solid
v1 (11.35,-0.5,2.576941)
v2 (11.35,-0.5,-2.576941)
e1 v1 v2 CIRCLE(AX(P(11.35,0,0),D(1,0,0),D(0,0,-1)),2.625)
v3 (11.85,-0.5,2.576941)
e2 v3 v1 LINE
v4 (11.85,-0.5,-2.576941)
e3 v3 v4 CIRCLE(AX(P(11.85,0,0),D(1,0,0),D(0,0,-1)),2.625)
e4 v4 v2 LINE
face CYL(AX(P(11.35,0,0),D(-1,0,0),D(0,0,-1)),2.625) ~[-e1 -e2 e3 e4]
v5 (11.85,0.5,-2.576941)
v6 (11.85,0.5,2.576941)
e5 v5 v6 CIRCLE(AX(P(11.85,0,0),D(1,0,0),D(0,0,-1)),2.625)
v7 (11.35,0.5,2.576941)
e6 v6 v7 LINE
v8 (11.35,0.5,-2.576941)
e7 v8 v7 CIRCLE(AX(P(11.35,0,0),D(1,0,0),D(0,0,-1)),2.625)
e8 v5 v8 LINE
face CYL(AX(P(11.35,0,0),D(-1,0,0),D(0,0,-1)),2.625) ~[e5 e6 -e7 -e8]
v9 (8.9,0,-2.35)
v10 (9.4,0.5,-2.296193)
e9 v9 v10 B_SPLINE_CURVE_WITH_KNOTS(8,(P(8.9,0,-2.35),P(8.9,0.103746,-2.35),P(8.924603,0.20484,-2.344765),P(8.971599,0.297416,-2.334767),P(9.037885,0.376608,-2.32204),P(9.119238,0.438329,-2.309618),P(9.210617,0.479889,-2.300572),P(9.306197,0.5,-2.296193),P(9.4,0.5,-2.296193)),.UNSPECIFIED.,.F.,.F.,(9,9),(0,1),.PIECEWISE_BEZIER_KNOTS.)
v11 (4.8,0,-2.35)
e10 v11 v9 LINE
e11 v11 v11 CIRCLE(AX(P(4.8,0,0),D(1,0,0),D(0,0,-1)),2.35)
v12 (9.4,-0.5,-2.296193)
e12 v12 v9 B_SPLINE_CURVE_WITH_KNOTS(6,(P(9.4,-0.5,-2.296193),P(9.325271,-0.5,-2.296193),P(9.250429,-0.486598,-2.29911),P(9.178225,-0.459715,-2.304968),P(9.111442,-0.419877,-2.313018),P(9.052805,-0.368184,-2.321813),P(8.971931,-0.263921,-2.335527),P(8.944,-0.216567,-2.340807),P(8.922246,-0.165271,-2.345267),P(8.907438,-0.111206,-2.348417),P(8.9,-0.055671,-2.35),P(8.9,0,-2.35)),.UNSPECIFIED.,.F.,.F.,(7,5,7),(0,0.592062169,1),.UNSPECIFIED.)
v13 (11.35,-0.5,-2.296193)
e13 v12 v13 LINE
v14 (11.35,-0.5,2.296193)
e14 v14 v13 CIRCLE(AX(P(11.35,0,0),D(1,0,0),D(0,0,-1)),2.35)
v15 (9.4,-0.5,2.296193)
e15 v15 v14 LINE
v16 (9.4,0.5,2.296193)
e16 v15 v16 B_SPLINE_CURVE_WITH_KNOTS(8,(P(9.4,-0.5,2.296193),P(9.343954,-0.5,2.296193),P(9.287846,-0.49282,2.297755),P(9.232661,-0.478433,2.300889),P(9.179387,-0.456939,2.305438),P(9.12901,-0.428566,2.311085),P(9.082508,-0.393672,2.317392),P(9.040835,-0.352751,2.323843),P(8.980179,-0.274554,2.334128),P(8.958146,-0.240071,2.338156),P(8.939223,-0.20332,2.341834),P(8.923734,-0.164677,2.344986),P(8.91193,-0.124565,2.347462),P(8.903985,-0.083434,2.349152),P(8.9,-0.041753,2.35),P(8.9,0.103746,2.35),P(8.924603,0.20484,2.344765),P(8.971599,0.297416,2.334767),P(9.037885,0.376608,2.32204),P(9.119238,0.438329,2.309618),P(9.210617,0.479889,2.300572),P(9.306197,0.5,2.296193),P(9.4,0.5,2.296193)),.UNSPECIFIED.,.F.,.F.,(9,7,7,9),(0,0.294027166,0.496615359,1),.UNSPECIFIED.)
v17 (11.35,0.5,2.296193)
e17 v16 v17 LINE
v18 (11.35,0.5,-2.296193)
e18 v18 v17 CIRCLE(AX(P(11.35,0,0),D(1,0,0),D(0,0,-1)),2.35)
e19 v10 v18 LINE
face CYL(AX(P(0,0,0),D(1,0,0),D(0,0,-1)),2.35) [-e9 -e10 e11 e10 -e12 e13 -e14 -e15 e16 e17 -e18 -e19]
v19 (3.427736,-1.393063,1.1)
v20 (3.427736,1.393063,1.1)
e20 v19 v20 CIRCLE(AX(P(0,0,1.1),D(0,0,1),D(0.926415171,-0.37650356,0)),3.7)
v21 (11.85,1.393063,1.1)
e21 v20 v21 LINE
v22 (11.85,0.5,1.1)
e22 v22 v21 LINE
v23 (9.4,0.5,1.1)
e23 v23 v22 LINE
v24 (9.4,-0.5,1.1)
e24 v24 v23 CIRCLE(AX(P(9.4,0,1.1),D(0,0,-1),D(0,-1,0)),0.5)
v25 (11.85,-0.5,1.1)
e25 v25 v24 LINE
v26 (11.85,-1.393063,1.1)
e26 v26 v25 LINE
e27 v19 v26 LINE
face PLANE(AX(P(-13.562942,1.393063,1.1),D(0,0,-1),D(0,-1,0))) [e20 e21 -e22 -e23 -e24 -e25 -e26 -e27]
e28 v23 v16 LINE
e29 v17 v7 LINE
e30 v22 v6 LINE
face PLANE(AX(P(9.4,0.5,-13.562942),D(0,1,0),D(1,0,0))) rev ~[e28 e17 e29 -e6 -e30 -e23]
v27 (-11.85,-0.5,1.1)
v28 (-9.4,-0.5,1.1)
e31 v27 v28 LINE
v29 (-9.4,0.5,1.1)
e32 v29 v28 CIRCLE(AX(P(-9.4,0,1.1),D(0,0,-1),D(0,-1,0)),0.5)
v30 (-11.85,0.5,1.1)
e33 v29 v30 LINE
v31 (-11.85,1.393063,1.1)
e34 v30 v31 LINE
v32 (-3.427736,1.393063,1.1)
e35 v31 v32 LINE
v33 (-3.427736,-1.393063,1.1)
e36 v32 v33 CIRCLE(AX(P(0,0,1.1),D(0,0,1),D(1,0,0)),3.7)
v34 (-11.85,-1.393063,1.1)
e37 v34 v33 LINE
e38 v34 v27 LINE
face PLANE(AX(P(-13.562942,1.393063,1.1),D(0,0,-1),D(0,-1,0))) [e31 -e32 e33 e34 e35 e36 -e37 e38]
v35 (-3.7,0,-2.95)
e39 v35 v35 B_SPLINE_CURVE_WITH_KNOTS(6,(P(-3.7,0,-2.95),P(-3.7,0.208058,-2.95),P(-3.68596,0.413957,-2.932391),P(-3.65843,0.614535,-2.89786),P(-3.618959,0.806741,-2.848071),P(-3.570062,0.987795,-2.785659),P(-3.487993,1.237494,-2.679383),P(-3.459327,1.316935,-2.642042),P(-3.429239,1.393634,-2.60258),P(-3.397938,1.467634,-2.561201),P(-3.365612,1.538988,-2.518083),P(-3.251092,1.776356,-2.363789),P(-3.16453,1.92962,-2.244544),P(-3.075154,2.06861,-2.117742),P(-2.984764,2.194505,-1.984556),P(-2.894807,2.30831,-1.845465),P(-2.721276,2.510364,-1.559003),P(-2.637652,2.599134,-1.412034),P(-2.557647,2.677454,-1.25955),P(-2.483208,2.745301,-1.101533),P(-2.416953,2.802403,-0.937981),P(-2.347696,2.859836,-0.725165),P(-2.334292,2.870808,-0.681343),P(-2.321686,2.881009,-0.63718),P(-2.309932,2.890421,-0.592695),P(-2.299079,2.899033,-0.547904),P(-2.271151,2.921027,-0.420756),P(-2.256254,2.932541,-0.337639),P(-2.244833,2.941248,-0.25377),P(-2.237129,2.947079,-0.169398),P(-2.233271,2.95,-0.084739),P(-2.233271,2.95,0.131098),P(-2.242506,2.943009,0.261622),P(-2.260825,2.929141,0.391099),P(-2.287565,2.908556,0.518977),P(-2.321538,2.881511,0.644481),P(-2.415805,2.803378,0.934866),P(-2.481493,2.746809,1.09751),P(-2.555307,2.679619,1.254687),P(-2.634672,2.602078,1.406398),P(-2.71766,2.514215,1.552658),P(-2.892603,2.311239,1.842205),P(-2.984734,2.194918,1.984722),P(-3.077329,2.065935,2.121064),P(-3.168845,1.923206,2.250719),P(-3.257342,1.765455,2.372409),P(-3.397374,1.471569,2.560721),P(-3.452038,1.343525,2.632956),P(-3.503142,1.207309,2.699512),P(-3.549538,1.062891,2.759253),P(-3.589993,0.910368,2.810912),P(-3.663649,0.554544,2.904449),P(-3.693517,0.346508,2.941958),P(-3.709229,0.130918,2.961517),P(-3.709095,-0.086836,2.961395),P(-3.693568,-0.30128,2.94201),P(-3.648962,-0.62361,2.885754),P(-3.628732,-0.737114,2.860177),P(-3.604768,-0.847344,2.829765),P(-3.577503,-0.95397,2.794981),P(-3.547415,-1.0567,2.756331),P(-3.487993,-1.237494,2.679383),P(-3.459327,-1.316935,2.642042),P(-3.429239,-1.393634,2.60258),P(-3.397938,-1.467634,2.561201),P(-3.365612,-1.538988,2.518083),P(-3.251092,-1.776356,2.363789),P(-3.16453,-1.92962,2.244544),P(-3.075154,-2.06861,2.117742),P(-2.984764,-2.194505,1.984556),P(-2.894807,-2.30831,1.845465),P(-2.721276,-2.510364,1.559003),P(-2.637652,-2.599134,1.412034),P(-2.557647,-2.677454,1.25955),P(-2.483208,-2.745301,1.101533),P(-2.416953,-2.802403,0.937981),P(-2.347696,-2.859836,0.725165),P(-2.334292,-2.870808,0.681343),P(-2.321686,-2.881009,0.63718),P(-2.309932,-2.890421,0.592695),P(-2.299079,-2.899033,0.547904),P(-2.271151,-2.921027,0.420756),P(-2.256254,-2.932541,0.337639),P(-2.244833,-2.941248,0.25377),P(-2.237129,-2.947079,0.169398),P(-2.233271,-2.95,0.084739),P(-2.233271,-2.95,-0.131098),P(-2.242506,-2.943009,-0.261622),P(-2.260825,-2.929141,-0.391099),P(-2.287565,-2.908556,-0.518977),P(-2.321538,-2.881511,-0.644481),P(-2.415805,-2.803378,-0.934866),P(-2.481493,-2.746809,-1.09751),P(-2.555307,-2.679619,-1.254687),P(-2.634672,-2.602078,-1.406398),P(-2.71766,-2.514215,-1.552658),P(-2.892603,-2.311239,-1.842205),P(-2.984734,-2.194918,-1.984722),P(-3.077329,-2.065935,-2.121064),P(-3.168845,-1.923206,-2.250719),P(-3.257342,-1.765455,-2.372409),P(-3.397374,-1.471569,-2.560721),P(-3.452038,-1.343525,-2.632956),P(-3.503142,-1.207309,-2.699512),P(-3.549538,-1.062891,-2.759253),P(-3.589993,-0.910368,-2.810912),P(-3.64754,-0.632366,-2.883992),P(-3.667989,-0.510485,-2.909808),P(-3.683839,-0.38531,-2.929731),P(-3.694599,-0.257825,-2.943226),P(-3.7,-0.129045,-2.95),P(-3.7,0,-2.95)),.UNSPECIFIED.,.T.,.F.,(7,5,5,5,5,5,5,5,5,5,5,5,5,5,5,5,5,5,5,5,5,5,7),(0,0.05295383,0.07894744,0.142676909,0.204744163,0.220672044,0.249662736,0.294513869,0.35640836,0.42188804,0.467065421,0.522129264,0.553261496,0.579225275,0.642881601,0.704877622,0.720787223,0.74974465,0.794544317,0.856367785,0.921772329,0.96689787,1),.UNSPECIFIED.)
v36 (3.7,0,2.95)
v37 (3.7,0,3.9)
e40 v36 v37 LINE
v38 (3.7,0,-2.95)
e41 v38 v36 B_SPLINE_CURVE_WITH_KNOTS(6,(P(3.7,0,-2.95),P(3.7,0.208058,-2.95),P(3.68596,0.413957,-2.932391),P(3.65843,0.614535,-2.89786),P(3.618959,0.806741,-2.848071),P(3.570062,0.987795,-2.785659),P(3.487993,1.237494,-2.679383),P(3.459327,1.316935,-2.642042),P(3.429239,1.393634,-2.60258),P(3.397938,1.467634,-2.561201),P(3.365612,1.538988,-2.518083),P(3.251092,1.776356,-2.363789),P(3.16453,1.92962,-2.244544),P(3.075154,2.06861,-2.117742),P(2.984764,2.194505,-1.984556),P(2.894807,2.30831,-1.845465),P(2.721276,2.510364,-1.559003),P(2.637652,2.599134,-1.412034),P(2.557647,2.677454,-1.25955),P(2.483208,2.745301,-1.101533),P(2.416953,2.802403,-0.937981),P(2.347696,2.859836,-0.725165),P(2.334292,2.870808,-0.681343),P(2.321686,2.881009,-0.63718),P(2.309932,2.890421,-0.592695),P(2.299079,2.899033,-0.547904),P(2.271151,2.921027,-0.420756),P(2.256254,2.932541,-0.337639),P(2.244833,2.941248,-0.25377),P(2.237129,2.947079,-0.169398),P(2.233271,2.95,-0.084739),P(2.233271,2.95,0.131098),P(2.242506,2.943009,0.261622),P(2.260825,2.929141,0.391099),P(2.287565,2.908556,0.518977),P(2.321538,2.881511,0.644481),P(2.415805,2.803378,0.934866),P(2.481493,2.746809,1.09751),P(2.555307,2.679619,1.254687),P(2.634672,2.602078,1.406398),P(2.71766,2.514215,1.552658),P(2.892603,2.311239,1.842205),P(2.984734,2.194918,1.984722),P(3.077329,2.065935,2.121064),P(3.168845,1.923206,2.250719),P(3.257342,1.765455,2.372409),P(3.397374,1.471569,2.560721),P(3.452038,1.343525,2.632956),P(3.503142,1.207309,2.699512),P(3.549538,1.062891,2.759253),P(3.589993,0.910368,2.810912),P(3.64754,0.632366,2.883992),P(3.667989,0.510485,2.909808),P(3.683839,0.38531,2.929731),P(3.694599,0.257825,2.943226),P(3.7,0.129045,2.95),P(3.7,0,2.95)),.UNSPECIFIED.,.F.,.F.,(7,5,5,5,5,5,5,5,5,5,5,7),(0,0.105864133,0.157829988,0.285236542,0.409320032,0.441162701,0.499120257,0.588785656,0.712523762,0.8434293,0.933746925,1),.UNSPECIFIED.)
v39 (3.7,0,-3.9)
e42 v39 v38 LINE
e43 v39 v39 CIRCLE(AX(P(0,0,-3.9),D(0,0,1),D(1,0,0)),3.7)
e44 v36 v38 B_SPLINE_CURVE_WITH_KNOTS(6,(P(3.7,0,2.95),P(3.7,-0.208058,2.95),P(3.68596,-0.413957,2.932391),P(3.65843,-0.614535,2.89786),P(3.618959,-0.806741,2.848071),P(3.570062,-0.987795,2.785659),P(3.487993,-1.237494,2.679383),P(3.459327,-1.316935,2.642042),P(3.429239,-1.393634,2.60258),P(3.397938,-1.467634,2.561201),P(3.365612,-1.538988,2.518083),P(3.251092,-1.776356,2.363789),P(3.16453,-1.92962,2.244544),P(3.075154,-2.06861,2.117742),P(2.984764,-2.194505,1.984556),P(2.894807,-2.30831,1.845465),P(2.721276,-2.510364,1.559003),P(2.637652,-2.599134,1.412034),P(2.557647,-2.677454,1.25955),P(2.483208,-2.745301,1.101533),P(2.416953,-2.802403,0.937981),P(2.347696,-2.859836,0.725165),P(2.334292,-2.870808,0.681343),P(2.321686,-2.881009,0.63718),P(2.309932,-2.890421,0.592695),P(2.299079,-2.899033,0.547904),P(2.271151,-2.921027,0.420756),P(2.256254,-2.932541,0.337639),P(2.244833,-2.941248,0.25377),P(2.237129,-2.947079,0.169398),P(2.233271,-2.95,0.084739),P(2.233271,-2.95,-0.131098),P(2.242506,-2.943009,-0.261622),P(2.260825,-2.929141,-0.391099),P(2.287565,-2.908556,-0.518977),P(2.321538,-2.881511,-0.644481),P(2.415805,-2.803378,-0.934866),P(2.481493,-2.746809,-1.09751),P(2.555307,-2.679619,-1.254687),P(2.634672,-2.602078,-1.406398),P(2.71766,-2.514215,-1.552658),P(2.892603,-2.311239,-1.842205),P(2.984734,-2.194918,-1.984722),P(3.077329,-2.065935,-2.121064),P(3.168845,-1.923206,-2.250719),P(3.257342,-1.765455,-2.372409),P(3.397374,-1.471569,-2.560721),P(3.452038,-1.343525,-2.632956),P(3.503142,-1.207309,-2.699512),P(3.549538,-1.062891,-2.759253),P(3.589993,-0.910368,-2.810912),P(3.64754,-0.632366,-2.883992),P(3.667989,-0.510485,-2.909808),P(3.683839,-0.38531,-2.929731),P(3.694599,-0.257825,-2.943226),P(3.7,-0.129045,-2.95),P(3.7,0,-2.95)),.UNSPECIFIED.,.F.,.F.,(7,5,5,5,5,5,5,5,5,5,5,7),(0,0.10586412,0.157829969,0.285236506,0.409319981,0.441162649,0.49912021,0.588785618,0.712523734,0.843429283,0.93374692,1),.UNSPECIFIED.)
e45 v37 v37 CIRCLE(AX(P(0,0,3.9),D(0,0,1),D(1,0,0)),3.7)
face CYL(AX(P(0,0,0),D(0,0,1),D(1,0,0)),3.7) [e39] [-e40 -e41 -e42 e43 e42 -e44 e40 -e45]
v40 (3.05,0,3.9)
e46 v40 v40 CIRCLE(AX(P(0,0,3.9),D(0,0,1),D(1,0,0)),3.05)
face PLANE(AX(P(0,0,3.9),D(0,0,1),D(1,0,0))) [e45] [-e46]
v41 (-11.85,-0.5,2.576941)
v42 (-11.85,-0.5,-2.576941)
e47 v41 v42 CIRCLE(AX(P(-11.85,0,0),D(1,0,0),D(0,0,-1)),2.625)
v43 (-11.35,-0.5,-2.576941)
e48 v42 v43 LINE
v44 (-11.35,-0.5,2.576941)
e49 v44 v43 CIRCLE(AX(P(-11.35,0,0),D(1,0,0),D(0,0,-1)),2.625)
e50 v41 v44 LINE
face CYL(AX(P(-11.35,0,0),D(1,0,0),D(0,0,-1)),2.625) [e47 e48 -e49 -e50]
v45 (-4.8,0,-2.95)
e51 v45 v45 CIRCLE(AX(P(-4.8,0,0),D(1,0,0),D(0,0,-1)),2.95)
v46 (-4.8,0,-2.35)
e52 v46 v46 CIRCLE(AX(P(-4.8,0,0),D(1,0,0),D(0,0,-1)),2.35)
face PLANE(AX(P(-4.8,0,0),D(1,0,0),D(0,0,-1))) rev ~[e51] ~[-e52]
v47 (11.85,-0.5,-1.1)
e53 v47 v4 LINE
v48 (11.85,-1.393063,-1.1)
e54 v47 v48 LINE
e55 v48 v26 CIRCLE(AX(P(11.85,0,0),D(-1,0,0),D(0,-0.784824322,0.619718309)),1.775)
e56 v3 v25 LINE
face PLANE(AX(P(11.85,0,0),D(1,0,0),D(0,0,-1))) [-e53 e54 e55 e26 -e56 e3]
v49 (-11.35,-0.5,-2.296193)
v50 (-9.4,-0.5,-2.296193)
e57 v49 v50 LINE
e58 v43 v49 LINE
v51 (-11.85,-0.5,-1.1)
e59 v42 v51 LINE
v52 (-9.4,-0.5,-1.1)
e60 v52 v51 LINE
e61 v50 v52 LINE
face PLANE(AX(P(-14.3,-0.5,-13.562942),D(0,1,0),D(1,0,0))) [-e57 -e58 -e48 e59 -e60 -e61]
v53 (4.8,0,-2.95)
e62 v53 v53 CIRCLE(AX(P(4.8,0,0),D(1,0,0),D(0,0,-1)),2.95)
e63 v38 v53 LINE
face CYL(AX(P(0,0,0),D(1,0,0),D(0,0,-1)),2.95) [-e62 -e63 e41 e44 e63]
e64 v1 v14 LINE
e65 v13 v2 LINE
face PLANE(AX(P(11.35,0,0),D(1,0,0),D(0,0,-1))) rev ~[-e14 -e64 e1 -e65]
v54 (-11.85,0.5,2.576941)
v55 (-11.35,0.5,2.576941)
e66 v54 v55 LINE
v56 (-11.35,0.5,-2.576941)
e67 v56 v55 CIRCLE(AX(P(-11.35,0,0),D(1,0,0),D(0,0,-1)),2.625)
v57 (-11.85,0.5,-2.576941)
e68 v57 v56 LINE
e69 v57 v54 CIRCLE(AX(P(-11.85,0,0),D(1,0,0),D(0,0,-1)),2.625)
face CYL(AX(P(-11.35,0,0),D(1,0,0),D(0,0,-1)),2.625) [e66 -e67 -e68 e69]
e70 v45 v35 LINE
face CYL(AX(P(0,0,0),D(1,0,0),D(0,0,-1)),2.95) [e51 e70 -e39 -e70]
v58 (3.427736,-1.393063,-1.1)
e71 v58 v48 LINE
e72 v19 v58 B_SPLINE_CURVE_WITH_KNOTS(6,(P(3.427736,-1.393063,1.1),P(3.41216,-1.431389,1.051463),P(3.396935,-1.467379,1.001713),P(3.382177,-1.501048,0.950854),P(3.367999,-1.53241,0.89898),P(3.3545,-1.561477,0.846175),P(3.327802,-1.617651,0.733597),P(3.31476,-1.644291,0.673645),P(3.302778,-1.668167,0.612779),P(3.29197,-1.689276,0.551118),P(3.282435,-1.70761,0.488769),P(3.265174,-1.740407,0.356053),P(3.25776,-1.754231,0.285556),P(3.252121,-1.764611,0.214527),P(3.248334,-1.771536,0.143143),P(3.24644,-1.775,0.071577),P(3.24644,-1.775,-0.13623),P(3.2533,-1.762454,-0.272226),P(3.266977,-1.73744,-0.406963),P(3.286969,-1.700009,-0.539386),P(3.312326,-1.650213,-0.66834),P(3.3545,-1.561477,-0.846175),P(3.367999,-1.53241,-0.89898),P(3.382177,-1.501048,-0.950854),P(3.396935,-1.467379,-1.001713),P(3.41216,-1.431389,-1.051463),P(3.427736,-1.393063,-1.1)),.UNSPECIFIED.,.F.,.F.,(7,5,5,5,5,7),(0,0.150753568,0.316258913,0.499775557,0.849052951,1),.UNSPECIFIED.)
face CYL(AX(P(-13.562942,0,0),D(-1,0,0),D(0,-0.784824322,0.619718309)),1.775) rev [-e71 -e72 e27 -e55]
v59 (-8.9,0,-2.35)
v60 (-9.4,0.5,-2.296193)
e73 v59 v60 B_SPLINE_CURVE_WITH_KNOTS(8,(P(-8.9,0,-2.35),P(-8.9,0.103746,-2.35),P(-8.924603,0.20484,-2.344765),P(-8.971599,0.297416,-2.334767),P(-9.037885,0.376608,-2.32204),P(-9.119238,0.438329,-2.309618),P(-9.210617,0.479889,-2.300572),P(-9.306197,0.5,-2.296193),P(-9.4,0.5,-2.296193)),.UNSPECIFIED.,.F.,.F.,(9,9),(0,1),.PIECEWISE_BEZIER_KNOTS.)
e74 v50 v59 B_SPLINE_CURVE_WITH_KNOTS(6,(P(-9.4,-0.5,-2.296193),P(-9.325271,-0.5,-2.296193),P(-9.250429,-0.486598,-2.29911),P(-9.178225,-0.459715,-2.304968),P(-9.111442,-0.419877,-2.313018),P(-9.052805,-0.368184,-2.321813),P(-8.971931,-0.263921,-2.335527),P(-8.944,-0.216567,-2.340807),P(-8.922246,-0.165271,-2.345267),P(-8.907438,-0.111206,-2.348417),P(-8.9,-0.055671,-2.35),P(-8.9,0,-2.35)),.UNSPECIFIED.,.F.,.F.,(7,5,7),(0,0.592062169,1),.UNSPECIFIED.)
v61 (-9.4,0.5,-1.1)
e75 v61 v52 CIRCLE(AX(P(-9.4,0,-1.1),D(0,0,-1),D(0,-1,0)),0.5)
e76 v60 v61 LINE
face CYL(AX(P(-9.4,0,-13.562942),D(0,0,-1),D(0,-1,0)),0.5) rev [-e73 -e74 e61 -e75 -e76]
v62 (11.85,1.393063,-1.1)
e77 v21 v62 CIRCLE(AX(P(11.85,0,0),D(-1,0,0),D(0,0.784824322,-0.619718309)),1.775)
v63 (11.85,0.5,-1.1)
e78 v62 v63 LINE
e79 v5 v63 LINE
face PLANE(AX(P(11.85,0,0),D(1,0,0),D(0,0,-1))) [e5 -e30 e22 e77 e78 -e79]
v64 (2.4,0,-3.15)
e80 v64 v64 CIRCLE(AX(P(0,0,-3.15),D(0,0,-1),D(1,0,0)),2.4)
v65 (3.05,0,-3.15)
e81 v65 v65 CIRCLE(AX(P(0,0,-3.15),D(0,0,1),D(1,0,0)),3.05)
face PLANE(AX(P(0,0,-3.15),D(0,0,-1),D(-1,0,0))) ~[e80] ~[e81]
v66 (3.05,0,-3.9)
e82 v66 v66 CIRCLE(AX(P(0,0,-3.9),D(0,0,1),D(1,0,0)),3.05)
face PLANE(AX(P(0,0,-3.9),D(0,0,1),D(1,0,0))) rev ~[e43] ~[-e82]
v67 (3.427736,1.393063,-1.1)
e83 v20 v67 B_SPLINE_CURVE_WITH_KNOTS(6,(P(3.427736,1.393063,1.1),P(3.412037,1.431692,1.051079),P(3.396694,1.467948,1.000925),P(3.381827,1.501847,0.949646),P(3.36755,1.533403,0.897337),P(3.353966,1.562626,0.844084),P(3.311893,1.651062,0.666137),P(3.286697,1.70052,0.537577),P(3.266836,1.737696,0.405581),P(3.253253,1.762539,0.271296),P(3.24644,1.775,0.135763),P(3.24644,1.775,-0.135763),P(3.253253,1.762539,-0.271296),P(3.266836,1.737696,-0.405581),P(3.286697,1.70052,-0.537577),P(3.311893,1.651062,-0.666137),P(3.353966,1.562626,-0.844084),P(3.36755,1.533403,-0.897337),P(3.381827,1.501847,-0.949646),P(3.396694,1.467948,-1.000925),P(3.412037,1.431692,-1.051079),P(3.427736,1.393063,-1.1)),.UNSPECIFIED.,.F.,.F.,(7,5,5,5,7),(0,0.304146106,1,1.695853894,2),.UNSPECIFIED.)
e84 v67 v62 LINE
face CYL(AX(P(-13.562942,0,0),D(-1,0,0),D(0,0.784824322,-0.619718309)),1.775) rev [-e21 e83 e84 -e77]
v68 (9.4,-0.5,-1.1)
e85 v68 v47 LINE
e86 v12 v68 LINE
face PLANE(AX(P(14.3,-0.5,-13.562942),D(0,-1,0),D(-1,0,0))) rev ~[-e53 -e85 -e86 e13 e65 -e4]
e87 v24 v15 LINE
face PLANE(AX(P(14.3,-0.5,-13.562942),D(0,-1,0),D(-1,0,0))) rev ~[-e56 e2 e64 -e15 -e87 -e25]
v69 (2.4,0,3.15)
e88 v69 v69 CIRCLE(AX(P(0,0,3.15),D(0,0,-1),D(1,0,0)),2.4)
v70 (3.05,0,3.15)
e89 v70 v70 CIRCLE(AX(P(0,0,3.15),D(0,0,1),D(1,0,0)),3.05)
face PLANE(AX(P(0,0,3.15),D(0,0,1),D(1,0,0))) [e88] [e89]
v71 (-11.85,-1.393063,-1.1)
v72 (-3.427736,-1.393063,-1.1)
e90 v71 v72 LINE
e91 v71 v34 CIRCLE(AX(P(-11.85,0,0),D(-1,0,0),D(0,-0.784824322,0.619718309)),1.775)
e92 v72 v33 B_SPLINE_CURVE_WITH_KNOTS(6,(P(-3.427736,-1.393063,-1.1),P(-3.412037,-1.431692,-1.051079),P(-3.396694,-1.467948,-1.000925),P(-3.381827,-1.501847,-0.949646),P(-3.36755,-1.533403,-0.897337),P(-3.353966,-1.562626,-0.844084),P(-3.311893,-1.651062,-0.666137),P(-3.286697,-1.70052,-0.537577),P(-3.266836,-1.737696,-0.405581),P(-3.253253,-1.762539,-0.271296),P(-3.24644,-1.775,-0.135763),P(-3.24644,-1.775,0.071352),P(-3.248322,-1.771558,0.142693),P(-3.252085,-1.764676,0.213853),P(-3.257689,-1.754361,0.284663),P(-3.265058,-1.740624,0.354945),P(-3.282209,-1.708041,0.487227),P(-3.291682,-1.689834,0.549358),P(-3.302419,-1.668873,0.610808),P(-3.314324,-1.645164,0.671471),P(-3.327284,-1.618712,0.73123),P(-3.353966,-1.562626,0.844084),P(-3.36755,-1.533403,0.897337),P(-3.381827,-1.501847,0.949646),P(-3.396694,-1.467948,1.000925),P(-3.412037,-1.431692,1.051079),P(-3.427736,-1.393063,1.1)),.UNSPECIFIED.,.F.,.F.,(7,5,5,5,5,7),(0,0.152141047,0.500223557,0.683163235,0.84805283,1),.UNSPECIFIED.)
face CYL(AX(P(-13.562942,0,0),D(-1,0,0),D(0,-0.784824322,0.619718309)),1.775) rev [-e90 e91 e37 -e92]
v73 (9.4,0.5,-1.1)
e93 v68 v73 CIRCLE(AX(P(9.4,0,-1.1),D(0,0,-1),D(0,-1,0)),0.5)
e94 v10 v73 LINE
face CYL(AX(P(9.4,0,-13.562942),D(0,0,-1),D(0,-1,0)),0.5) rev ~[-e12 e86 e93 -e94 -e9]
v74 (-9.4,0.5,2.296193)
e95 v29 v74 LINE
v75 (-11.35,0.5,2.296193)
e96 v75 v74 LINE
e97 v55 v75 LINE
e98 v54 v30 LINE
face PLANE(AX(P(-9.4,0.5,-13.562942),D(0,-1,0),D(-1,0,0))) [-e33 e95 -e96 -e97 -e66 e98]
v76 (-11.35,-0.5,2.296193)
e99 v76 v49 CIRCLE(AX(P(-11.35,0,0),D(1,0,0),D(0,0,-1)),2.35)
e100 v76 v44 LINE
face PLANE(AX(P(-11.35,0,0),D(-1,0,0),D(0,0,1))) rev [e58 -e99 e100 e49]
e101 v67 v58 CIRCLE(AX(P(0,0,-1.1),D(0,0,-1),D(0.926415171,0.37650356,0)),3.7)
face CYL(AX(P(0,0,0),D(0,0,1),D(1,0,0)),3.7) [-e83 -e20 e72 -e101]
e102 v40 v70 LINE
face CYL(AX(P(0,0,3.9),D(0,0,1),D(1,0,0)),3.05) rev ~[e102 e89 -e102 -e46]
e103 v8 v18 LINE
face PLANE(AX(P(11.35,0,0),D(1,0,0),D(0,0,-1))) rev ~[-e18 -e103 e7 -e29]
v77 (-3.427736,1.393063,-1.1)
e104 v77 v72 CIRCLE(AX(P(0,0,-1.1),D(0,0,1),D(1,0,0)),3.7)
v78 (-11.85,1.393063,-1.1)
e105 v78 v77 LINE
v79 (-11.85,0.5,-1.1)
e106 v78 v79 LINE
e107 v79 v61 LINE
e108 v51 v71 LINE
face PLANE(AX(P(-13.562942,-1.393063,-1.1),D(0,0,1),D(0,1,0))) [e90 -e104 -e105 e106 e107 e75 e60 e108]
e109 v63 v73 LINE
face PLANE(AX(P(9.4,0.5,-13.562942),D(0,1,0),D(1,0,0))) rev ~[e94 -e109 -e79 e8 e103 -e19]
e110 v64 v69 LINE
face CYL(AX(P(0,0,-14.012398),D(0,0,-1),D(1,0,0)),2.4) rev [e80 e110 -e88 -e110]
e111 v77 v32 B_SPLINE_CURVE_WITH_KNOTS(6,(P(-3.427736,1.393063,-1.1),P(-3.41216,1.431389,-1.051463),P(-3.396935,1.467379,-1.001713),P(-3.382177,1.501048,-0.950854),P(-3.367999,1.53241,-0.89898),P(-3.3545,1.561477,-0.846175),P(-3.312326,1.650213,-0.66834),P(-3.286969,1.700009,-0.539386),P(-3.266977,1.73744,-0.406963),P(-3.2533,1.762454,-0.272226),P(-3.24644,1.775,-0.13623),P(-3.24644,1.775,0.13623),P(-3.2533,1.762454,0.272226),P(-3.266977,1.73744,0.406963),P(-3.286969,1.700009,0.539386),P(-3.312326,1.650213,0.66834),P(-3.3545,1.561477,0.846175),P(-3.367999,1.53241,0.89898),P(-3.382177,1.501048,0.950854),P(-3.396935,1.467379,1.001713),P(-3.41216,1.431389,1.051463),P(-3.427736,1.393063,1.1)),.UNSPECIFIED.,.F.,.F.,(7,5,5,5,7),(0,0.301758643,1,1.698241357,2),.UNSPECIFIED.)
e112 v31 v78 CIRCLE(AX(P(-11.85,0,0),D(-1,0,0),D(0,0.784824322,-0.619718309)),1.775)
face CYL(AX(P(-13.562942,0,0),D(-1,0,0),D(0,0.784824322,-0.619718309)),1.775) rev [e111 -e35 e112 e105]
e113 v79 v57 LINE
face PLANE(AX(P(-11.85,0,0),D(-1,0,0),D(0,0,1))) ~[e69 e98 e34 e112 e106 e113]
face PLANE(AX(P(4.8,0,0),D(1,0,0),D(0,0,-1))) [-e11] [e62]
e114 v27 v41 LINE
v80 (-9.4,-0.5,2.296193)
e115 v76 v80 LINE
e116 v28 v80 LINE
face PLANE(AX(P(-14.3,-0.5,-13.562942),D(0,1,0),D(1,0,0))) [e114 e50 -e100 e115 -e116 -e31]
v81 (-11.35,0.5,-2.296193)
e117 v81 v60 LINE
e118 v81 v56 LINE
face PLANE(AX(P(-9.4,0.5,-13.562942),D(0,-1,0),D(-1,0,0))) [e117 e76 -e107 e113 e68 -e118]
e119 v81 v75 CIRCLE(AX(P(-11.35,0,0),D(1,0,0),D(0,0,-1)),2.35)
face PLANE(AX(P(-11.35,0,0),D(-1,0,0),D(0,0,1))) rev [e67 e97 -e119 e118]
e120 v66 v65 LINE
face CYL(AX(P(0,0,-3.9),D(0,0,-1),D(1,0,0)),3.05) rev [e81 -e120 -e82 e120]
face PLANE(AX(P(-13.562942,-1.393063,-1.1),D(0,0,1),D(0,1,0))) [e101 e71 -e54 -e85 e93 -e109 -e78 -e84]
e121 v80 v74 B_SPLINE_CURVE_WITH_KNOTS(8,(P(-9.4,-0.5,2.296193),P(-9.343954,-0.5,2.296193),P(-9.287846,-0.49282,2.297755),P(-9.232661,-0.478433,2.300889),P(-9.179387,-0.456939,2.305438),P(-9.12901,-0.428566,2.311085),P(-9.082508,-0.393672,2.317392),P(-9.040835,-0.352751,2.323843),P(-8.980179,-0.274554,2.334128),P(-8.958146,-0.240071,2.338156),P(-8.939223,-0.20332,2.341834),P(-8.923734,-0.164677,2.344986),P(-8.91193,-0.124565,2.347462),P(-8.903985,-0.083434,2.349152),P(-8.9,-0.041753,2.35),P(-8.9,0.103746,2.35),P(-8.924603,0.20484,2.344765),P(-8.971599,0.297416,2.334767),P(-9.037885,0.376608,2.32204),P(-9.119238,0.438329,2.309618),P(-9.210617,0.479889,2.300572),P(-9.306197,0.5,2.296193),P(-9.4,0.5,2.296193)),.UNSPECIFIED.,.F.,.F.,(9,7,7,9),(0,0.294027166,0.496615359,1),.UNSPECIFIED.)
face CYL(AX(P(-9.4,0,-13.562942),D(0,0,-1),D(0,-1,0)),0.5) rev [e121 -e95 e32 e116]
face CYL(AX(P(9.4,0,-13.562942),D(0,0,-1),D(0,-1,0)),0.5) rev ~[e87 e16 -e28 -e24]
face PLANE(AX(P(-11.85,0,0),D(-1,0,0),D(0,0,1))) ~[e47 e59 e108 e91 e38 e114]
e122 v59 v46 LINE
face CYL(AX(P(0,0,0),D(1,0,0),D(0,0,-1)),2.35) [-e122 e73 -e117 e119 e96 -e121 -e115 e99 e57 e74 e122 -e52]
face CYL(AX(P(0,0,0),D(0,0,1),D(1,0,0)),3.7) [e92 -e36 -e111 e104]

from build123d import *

# Parameters (mm, degrees)
SKETCH1_R              = 2.35
PIN_DEPTH              = 11.35
SKETCH2_R              = 2.95
MIDDLE_DEPTH           = 4.8
SKETCH3_R              = 2.625
OUTER_RIM_DEPTH        = 0.5
BORE_CUT_DEPTH         = 13.562941535
BORE_CUT_DEPTH_BACK    = 13.562941535
SLOT_CUT_DEPTH         = 13.562941535
SLOT_CUT_DEPTH_BACK    = 13.562941535
SKETCH6_R              = 3.7
MIDDLE_BODY_DEPTH      = 3.9
MIDDLE_BORE_DEPTH      = 14.012398084
MIDDLE_BORE_DEPTH_BACK = 14.012398084
SKETCH7_R              = 2.4
SKETCH8_R              = 3.05
MIDDLE_RIM_CUT_DEPTH   = 0.75


with BuildPart() as part:
    # Sketch1 → Pin (new, symmetric)
    with BuildSketch(Plane(origin=(0, 0, 0), x_dir=(0, 0, -1), z_dir=(1, 0, 0))):
        Circle(SKETCH1_R)
    extrude(amount=PIN_DEPTH, both=True)

    # Sketch2 → Middle (add, symmetric)
    with BuildSketch(Plane(origin=(0, 0, 0), x_dir=(0, 0, -1), z_dir=(1, 0, 0))):
        Circle(SKETCH2_R)
    extrude(amount=MIDDLE_DEPTH, both=True)

    # Sketch3 → Outer Rim (add)
    with BuildSketch(Plane(origin=(11.35, 0, 0), x_dir=(0, 0, -1), z_dir=(1, 0, 0))):
        Circle(SKETCH3_R)
    outer_rim = extrude(amount=OUTER_RIM_DEPTH)

    # Mirror1: Outer Rim across plane
    add(outer_rim.mirror(Plane(origin=(0, 0, 0), x_dir=(0, 0, 1), z_dir=(1, 0, 0))))

    # Sketch4 → Bore Cut (cut, two sides: drawn at the far end of the back side and taken through both)
    with BuildSketch(Plane(origin=(0, 0, 0), x_dir=(0, 0, -1), z_dir=(1, 0, 0)).offset(-BORE_CUT_DEPTH_BACK)):
        with BuildLine():
            ThreePointArc((-1.1, -1.393063172), (0, -1.775), (1.1, -1.393063172))
            Line((1.1, -1.393063172), (1.1, 1.393063172))
            ThreePointArc((1.1, 1.393063172), (0, 1.775), (-1.1, 1.393063172))
            Line((-1.1, 1.393063172), (-1.1, -1.393063172))
        make_face()
    extrude(amount=BORE_CUT_DEPTH + BORE_CUT_DEPTH_BACK, mode=Mode.SUBTRACT)

    # Sketch5 → Slot Cut (cut, two sides: drawn at the far end of the back side and taken through both)
    with BuildSketch(Plane.XY.offset(-SLOT_CUT_DEPTH_BACK)):
        with BuildLine():
            Line((14.3, -0.5), (9.4, -0.5))
            ThreePointArc((9.4, -0.5), (8.9, 0), (9.4, 0.5))
            Line((9.4, 0.5), (14.3, 0.5))
            ThreePointArc((14.3, 0.5), (14.8, 0), (14.3, -0.5))
        make_face()
        with BuildLine():
            Line((-14.3, -0.5), (-9.4, -0.5))
            ThreePointArc((-9.4, -0.5), (-8.9, 0), (-9.4, 0.5))
            Line((-9.4, 0.5), (-14.3, 0.5))
            ThreePointArc((-14.3, 0.5), (-14.8, 0), (-14.3, -0.5))
        make_face()
    extrude(amount=SLOT_CUT_DEPTH + SLOT_CUT_DEPTH_BACK, mode=Mode.SUBTRACT)

    # Sketch6 → Middle Body (add, symmetric)
    with BuildSketch(Plane.XY):
        Circle(SKETCH6_R)
    extrude(amount=MIDDLE_BODY_DEPTH, both=True)

    # Sketch7 → Middle Bore (cut, two sides: drawn at the far end of the back side and taken through both)
    with BuildSketch(Plane.XY.offset(-MIDDLE_BORE_DEPTH_BACK)):
        Circle(SKETCH7_R)
    extrude(amount=MIDDLE_BORE_DEPTH + MIDDLE_BORE_DEPTH_BACK, mode=Mode.SUBTRACT)

    # Sketch8 → Middle Rim Cut (cut)
    with BuildSketch(Plane.XY.offset(3.9)):
        Circle(SKETCH8_R)
    middle_rim_cut = extrude(amount=-MIDDLE_RIM_CUT_DEPTH, mode=Mode.SUBTRACT)

    # Mirror2: Middle Rim Cut across plane
    add(middle_rim_cut.mirror(Plane.XY), mode=Mode.SUBTRACT)


solid = part.part
